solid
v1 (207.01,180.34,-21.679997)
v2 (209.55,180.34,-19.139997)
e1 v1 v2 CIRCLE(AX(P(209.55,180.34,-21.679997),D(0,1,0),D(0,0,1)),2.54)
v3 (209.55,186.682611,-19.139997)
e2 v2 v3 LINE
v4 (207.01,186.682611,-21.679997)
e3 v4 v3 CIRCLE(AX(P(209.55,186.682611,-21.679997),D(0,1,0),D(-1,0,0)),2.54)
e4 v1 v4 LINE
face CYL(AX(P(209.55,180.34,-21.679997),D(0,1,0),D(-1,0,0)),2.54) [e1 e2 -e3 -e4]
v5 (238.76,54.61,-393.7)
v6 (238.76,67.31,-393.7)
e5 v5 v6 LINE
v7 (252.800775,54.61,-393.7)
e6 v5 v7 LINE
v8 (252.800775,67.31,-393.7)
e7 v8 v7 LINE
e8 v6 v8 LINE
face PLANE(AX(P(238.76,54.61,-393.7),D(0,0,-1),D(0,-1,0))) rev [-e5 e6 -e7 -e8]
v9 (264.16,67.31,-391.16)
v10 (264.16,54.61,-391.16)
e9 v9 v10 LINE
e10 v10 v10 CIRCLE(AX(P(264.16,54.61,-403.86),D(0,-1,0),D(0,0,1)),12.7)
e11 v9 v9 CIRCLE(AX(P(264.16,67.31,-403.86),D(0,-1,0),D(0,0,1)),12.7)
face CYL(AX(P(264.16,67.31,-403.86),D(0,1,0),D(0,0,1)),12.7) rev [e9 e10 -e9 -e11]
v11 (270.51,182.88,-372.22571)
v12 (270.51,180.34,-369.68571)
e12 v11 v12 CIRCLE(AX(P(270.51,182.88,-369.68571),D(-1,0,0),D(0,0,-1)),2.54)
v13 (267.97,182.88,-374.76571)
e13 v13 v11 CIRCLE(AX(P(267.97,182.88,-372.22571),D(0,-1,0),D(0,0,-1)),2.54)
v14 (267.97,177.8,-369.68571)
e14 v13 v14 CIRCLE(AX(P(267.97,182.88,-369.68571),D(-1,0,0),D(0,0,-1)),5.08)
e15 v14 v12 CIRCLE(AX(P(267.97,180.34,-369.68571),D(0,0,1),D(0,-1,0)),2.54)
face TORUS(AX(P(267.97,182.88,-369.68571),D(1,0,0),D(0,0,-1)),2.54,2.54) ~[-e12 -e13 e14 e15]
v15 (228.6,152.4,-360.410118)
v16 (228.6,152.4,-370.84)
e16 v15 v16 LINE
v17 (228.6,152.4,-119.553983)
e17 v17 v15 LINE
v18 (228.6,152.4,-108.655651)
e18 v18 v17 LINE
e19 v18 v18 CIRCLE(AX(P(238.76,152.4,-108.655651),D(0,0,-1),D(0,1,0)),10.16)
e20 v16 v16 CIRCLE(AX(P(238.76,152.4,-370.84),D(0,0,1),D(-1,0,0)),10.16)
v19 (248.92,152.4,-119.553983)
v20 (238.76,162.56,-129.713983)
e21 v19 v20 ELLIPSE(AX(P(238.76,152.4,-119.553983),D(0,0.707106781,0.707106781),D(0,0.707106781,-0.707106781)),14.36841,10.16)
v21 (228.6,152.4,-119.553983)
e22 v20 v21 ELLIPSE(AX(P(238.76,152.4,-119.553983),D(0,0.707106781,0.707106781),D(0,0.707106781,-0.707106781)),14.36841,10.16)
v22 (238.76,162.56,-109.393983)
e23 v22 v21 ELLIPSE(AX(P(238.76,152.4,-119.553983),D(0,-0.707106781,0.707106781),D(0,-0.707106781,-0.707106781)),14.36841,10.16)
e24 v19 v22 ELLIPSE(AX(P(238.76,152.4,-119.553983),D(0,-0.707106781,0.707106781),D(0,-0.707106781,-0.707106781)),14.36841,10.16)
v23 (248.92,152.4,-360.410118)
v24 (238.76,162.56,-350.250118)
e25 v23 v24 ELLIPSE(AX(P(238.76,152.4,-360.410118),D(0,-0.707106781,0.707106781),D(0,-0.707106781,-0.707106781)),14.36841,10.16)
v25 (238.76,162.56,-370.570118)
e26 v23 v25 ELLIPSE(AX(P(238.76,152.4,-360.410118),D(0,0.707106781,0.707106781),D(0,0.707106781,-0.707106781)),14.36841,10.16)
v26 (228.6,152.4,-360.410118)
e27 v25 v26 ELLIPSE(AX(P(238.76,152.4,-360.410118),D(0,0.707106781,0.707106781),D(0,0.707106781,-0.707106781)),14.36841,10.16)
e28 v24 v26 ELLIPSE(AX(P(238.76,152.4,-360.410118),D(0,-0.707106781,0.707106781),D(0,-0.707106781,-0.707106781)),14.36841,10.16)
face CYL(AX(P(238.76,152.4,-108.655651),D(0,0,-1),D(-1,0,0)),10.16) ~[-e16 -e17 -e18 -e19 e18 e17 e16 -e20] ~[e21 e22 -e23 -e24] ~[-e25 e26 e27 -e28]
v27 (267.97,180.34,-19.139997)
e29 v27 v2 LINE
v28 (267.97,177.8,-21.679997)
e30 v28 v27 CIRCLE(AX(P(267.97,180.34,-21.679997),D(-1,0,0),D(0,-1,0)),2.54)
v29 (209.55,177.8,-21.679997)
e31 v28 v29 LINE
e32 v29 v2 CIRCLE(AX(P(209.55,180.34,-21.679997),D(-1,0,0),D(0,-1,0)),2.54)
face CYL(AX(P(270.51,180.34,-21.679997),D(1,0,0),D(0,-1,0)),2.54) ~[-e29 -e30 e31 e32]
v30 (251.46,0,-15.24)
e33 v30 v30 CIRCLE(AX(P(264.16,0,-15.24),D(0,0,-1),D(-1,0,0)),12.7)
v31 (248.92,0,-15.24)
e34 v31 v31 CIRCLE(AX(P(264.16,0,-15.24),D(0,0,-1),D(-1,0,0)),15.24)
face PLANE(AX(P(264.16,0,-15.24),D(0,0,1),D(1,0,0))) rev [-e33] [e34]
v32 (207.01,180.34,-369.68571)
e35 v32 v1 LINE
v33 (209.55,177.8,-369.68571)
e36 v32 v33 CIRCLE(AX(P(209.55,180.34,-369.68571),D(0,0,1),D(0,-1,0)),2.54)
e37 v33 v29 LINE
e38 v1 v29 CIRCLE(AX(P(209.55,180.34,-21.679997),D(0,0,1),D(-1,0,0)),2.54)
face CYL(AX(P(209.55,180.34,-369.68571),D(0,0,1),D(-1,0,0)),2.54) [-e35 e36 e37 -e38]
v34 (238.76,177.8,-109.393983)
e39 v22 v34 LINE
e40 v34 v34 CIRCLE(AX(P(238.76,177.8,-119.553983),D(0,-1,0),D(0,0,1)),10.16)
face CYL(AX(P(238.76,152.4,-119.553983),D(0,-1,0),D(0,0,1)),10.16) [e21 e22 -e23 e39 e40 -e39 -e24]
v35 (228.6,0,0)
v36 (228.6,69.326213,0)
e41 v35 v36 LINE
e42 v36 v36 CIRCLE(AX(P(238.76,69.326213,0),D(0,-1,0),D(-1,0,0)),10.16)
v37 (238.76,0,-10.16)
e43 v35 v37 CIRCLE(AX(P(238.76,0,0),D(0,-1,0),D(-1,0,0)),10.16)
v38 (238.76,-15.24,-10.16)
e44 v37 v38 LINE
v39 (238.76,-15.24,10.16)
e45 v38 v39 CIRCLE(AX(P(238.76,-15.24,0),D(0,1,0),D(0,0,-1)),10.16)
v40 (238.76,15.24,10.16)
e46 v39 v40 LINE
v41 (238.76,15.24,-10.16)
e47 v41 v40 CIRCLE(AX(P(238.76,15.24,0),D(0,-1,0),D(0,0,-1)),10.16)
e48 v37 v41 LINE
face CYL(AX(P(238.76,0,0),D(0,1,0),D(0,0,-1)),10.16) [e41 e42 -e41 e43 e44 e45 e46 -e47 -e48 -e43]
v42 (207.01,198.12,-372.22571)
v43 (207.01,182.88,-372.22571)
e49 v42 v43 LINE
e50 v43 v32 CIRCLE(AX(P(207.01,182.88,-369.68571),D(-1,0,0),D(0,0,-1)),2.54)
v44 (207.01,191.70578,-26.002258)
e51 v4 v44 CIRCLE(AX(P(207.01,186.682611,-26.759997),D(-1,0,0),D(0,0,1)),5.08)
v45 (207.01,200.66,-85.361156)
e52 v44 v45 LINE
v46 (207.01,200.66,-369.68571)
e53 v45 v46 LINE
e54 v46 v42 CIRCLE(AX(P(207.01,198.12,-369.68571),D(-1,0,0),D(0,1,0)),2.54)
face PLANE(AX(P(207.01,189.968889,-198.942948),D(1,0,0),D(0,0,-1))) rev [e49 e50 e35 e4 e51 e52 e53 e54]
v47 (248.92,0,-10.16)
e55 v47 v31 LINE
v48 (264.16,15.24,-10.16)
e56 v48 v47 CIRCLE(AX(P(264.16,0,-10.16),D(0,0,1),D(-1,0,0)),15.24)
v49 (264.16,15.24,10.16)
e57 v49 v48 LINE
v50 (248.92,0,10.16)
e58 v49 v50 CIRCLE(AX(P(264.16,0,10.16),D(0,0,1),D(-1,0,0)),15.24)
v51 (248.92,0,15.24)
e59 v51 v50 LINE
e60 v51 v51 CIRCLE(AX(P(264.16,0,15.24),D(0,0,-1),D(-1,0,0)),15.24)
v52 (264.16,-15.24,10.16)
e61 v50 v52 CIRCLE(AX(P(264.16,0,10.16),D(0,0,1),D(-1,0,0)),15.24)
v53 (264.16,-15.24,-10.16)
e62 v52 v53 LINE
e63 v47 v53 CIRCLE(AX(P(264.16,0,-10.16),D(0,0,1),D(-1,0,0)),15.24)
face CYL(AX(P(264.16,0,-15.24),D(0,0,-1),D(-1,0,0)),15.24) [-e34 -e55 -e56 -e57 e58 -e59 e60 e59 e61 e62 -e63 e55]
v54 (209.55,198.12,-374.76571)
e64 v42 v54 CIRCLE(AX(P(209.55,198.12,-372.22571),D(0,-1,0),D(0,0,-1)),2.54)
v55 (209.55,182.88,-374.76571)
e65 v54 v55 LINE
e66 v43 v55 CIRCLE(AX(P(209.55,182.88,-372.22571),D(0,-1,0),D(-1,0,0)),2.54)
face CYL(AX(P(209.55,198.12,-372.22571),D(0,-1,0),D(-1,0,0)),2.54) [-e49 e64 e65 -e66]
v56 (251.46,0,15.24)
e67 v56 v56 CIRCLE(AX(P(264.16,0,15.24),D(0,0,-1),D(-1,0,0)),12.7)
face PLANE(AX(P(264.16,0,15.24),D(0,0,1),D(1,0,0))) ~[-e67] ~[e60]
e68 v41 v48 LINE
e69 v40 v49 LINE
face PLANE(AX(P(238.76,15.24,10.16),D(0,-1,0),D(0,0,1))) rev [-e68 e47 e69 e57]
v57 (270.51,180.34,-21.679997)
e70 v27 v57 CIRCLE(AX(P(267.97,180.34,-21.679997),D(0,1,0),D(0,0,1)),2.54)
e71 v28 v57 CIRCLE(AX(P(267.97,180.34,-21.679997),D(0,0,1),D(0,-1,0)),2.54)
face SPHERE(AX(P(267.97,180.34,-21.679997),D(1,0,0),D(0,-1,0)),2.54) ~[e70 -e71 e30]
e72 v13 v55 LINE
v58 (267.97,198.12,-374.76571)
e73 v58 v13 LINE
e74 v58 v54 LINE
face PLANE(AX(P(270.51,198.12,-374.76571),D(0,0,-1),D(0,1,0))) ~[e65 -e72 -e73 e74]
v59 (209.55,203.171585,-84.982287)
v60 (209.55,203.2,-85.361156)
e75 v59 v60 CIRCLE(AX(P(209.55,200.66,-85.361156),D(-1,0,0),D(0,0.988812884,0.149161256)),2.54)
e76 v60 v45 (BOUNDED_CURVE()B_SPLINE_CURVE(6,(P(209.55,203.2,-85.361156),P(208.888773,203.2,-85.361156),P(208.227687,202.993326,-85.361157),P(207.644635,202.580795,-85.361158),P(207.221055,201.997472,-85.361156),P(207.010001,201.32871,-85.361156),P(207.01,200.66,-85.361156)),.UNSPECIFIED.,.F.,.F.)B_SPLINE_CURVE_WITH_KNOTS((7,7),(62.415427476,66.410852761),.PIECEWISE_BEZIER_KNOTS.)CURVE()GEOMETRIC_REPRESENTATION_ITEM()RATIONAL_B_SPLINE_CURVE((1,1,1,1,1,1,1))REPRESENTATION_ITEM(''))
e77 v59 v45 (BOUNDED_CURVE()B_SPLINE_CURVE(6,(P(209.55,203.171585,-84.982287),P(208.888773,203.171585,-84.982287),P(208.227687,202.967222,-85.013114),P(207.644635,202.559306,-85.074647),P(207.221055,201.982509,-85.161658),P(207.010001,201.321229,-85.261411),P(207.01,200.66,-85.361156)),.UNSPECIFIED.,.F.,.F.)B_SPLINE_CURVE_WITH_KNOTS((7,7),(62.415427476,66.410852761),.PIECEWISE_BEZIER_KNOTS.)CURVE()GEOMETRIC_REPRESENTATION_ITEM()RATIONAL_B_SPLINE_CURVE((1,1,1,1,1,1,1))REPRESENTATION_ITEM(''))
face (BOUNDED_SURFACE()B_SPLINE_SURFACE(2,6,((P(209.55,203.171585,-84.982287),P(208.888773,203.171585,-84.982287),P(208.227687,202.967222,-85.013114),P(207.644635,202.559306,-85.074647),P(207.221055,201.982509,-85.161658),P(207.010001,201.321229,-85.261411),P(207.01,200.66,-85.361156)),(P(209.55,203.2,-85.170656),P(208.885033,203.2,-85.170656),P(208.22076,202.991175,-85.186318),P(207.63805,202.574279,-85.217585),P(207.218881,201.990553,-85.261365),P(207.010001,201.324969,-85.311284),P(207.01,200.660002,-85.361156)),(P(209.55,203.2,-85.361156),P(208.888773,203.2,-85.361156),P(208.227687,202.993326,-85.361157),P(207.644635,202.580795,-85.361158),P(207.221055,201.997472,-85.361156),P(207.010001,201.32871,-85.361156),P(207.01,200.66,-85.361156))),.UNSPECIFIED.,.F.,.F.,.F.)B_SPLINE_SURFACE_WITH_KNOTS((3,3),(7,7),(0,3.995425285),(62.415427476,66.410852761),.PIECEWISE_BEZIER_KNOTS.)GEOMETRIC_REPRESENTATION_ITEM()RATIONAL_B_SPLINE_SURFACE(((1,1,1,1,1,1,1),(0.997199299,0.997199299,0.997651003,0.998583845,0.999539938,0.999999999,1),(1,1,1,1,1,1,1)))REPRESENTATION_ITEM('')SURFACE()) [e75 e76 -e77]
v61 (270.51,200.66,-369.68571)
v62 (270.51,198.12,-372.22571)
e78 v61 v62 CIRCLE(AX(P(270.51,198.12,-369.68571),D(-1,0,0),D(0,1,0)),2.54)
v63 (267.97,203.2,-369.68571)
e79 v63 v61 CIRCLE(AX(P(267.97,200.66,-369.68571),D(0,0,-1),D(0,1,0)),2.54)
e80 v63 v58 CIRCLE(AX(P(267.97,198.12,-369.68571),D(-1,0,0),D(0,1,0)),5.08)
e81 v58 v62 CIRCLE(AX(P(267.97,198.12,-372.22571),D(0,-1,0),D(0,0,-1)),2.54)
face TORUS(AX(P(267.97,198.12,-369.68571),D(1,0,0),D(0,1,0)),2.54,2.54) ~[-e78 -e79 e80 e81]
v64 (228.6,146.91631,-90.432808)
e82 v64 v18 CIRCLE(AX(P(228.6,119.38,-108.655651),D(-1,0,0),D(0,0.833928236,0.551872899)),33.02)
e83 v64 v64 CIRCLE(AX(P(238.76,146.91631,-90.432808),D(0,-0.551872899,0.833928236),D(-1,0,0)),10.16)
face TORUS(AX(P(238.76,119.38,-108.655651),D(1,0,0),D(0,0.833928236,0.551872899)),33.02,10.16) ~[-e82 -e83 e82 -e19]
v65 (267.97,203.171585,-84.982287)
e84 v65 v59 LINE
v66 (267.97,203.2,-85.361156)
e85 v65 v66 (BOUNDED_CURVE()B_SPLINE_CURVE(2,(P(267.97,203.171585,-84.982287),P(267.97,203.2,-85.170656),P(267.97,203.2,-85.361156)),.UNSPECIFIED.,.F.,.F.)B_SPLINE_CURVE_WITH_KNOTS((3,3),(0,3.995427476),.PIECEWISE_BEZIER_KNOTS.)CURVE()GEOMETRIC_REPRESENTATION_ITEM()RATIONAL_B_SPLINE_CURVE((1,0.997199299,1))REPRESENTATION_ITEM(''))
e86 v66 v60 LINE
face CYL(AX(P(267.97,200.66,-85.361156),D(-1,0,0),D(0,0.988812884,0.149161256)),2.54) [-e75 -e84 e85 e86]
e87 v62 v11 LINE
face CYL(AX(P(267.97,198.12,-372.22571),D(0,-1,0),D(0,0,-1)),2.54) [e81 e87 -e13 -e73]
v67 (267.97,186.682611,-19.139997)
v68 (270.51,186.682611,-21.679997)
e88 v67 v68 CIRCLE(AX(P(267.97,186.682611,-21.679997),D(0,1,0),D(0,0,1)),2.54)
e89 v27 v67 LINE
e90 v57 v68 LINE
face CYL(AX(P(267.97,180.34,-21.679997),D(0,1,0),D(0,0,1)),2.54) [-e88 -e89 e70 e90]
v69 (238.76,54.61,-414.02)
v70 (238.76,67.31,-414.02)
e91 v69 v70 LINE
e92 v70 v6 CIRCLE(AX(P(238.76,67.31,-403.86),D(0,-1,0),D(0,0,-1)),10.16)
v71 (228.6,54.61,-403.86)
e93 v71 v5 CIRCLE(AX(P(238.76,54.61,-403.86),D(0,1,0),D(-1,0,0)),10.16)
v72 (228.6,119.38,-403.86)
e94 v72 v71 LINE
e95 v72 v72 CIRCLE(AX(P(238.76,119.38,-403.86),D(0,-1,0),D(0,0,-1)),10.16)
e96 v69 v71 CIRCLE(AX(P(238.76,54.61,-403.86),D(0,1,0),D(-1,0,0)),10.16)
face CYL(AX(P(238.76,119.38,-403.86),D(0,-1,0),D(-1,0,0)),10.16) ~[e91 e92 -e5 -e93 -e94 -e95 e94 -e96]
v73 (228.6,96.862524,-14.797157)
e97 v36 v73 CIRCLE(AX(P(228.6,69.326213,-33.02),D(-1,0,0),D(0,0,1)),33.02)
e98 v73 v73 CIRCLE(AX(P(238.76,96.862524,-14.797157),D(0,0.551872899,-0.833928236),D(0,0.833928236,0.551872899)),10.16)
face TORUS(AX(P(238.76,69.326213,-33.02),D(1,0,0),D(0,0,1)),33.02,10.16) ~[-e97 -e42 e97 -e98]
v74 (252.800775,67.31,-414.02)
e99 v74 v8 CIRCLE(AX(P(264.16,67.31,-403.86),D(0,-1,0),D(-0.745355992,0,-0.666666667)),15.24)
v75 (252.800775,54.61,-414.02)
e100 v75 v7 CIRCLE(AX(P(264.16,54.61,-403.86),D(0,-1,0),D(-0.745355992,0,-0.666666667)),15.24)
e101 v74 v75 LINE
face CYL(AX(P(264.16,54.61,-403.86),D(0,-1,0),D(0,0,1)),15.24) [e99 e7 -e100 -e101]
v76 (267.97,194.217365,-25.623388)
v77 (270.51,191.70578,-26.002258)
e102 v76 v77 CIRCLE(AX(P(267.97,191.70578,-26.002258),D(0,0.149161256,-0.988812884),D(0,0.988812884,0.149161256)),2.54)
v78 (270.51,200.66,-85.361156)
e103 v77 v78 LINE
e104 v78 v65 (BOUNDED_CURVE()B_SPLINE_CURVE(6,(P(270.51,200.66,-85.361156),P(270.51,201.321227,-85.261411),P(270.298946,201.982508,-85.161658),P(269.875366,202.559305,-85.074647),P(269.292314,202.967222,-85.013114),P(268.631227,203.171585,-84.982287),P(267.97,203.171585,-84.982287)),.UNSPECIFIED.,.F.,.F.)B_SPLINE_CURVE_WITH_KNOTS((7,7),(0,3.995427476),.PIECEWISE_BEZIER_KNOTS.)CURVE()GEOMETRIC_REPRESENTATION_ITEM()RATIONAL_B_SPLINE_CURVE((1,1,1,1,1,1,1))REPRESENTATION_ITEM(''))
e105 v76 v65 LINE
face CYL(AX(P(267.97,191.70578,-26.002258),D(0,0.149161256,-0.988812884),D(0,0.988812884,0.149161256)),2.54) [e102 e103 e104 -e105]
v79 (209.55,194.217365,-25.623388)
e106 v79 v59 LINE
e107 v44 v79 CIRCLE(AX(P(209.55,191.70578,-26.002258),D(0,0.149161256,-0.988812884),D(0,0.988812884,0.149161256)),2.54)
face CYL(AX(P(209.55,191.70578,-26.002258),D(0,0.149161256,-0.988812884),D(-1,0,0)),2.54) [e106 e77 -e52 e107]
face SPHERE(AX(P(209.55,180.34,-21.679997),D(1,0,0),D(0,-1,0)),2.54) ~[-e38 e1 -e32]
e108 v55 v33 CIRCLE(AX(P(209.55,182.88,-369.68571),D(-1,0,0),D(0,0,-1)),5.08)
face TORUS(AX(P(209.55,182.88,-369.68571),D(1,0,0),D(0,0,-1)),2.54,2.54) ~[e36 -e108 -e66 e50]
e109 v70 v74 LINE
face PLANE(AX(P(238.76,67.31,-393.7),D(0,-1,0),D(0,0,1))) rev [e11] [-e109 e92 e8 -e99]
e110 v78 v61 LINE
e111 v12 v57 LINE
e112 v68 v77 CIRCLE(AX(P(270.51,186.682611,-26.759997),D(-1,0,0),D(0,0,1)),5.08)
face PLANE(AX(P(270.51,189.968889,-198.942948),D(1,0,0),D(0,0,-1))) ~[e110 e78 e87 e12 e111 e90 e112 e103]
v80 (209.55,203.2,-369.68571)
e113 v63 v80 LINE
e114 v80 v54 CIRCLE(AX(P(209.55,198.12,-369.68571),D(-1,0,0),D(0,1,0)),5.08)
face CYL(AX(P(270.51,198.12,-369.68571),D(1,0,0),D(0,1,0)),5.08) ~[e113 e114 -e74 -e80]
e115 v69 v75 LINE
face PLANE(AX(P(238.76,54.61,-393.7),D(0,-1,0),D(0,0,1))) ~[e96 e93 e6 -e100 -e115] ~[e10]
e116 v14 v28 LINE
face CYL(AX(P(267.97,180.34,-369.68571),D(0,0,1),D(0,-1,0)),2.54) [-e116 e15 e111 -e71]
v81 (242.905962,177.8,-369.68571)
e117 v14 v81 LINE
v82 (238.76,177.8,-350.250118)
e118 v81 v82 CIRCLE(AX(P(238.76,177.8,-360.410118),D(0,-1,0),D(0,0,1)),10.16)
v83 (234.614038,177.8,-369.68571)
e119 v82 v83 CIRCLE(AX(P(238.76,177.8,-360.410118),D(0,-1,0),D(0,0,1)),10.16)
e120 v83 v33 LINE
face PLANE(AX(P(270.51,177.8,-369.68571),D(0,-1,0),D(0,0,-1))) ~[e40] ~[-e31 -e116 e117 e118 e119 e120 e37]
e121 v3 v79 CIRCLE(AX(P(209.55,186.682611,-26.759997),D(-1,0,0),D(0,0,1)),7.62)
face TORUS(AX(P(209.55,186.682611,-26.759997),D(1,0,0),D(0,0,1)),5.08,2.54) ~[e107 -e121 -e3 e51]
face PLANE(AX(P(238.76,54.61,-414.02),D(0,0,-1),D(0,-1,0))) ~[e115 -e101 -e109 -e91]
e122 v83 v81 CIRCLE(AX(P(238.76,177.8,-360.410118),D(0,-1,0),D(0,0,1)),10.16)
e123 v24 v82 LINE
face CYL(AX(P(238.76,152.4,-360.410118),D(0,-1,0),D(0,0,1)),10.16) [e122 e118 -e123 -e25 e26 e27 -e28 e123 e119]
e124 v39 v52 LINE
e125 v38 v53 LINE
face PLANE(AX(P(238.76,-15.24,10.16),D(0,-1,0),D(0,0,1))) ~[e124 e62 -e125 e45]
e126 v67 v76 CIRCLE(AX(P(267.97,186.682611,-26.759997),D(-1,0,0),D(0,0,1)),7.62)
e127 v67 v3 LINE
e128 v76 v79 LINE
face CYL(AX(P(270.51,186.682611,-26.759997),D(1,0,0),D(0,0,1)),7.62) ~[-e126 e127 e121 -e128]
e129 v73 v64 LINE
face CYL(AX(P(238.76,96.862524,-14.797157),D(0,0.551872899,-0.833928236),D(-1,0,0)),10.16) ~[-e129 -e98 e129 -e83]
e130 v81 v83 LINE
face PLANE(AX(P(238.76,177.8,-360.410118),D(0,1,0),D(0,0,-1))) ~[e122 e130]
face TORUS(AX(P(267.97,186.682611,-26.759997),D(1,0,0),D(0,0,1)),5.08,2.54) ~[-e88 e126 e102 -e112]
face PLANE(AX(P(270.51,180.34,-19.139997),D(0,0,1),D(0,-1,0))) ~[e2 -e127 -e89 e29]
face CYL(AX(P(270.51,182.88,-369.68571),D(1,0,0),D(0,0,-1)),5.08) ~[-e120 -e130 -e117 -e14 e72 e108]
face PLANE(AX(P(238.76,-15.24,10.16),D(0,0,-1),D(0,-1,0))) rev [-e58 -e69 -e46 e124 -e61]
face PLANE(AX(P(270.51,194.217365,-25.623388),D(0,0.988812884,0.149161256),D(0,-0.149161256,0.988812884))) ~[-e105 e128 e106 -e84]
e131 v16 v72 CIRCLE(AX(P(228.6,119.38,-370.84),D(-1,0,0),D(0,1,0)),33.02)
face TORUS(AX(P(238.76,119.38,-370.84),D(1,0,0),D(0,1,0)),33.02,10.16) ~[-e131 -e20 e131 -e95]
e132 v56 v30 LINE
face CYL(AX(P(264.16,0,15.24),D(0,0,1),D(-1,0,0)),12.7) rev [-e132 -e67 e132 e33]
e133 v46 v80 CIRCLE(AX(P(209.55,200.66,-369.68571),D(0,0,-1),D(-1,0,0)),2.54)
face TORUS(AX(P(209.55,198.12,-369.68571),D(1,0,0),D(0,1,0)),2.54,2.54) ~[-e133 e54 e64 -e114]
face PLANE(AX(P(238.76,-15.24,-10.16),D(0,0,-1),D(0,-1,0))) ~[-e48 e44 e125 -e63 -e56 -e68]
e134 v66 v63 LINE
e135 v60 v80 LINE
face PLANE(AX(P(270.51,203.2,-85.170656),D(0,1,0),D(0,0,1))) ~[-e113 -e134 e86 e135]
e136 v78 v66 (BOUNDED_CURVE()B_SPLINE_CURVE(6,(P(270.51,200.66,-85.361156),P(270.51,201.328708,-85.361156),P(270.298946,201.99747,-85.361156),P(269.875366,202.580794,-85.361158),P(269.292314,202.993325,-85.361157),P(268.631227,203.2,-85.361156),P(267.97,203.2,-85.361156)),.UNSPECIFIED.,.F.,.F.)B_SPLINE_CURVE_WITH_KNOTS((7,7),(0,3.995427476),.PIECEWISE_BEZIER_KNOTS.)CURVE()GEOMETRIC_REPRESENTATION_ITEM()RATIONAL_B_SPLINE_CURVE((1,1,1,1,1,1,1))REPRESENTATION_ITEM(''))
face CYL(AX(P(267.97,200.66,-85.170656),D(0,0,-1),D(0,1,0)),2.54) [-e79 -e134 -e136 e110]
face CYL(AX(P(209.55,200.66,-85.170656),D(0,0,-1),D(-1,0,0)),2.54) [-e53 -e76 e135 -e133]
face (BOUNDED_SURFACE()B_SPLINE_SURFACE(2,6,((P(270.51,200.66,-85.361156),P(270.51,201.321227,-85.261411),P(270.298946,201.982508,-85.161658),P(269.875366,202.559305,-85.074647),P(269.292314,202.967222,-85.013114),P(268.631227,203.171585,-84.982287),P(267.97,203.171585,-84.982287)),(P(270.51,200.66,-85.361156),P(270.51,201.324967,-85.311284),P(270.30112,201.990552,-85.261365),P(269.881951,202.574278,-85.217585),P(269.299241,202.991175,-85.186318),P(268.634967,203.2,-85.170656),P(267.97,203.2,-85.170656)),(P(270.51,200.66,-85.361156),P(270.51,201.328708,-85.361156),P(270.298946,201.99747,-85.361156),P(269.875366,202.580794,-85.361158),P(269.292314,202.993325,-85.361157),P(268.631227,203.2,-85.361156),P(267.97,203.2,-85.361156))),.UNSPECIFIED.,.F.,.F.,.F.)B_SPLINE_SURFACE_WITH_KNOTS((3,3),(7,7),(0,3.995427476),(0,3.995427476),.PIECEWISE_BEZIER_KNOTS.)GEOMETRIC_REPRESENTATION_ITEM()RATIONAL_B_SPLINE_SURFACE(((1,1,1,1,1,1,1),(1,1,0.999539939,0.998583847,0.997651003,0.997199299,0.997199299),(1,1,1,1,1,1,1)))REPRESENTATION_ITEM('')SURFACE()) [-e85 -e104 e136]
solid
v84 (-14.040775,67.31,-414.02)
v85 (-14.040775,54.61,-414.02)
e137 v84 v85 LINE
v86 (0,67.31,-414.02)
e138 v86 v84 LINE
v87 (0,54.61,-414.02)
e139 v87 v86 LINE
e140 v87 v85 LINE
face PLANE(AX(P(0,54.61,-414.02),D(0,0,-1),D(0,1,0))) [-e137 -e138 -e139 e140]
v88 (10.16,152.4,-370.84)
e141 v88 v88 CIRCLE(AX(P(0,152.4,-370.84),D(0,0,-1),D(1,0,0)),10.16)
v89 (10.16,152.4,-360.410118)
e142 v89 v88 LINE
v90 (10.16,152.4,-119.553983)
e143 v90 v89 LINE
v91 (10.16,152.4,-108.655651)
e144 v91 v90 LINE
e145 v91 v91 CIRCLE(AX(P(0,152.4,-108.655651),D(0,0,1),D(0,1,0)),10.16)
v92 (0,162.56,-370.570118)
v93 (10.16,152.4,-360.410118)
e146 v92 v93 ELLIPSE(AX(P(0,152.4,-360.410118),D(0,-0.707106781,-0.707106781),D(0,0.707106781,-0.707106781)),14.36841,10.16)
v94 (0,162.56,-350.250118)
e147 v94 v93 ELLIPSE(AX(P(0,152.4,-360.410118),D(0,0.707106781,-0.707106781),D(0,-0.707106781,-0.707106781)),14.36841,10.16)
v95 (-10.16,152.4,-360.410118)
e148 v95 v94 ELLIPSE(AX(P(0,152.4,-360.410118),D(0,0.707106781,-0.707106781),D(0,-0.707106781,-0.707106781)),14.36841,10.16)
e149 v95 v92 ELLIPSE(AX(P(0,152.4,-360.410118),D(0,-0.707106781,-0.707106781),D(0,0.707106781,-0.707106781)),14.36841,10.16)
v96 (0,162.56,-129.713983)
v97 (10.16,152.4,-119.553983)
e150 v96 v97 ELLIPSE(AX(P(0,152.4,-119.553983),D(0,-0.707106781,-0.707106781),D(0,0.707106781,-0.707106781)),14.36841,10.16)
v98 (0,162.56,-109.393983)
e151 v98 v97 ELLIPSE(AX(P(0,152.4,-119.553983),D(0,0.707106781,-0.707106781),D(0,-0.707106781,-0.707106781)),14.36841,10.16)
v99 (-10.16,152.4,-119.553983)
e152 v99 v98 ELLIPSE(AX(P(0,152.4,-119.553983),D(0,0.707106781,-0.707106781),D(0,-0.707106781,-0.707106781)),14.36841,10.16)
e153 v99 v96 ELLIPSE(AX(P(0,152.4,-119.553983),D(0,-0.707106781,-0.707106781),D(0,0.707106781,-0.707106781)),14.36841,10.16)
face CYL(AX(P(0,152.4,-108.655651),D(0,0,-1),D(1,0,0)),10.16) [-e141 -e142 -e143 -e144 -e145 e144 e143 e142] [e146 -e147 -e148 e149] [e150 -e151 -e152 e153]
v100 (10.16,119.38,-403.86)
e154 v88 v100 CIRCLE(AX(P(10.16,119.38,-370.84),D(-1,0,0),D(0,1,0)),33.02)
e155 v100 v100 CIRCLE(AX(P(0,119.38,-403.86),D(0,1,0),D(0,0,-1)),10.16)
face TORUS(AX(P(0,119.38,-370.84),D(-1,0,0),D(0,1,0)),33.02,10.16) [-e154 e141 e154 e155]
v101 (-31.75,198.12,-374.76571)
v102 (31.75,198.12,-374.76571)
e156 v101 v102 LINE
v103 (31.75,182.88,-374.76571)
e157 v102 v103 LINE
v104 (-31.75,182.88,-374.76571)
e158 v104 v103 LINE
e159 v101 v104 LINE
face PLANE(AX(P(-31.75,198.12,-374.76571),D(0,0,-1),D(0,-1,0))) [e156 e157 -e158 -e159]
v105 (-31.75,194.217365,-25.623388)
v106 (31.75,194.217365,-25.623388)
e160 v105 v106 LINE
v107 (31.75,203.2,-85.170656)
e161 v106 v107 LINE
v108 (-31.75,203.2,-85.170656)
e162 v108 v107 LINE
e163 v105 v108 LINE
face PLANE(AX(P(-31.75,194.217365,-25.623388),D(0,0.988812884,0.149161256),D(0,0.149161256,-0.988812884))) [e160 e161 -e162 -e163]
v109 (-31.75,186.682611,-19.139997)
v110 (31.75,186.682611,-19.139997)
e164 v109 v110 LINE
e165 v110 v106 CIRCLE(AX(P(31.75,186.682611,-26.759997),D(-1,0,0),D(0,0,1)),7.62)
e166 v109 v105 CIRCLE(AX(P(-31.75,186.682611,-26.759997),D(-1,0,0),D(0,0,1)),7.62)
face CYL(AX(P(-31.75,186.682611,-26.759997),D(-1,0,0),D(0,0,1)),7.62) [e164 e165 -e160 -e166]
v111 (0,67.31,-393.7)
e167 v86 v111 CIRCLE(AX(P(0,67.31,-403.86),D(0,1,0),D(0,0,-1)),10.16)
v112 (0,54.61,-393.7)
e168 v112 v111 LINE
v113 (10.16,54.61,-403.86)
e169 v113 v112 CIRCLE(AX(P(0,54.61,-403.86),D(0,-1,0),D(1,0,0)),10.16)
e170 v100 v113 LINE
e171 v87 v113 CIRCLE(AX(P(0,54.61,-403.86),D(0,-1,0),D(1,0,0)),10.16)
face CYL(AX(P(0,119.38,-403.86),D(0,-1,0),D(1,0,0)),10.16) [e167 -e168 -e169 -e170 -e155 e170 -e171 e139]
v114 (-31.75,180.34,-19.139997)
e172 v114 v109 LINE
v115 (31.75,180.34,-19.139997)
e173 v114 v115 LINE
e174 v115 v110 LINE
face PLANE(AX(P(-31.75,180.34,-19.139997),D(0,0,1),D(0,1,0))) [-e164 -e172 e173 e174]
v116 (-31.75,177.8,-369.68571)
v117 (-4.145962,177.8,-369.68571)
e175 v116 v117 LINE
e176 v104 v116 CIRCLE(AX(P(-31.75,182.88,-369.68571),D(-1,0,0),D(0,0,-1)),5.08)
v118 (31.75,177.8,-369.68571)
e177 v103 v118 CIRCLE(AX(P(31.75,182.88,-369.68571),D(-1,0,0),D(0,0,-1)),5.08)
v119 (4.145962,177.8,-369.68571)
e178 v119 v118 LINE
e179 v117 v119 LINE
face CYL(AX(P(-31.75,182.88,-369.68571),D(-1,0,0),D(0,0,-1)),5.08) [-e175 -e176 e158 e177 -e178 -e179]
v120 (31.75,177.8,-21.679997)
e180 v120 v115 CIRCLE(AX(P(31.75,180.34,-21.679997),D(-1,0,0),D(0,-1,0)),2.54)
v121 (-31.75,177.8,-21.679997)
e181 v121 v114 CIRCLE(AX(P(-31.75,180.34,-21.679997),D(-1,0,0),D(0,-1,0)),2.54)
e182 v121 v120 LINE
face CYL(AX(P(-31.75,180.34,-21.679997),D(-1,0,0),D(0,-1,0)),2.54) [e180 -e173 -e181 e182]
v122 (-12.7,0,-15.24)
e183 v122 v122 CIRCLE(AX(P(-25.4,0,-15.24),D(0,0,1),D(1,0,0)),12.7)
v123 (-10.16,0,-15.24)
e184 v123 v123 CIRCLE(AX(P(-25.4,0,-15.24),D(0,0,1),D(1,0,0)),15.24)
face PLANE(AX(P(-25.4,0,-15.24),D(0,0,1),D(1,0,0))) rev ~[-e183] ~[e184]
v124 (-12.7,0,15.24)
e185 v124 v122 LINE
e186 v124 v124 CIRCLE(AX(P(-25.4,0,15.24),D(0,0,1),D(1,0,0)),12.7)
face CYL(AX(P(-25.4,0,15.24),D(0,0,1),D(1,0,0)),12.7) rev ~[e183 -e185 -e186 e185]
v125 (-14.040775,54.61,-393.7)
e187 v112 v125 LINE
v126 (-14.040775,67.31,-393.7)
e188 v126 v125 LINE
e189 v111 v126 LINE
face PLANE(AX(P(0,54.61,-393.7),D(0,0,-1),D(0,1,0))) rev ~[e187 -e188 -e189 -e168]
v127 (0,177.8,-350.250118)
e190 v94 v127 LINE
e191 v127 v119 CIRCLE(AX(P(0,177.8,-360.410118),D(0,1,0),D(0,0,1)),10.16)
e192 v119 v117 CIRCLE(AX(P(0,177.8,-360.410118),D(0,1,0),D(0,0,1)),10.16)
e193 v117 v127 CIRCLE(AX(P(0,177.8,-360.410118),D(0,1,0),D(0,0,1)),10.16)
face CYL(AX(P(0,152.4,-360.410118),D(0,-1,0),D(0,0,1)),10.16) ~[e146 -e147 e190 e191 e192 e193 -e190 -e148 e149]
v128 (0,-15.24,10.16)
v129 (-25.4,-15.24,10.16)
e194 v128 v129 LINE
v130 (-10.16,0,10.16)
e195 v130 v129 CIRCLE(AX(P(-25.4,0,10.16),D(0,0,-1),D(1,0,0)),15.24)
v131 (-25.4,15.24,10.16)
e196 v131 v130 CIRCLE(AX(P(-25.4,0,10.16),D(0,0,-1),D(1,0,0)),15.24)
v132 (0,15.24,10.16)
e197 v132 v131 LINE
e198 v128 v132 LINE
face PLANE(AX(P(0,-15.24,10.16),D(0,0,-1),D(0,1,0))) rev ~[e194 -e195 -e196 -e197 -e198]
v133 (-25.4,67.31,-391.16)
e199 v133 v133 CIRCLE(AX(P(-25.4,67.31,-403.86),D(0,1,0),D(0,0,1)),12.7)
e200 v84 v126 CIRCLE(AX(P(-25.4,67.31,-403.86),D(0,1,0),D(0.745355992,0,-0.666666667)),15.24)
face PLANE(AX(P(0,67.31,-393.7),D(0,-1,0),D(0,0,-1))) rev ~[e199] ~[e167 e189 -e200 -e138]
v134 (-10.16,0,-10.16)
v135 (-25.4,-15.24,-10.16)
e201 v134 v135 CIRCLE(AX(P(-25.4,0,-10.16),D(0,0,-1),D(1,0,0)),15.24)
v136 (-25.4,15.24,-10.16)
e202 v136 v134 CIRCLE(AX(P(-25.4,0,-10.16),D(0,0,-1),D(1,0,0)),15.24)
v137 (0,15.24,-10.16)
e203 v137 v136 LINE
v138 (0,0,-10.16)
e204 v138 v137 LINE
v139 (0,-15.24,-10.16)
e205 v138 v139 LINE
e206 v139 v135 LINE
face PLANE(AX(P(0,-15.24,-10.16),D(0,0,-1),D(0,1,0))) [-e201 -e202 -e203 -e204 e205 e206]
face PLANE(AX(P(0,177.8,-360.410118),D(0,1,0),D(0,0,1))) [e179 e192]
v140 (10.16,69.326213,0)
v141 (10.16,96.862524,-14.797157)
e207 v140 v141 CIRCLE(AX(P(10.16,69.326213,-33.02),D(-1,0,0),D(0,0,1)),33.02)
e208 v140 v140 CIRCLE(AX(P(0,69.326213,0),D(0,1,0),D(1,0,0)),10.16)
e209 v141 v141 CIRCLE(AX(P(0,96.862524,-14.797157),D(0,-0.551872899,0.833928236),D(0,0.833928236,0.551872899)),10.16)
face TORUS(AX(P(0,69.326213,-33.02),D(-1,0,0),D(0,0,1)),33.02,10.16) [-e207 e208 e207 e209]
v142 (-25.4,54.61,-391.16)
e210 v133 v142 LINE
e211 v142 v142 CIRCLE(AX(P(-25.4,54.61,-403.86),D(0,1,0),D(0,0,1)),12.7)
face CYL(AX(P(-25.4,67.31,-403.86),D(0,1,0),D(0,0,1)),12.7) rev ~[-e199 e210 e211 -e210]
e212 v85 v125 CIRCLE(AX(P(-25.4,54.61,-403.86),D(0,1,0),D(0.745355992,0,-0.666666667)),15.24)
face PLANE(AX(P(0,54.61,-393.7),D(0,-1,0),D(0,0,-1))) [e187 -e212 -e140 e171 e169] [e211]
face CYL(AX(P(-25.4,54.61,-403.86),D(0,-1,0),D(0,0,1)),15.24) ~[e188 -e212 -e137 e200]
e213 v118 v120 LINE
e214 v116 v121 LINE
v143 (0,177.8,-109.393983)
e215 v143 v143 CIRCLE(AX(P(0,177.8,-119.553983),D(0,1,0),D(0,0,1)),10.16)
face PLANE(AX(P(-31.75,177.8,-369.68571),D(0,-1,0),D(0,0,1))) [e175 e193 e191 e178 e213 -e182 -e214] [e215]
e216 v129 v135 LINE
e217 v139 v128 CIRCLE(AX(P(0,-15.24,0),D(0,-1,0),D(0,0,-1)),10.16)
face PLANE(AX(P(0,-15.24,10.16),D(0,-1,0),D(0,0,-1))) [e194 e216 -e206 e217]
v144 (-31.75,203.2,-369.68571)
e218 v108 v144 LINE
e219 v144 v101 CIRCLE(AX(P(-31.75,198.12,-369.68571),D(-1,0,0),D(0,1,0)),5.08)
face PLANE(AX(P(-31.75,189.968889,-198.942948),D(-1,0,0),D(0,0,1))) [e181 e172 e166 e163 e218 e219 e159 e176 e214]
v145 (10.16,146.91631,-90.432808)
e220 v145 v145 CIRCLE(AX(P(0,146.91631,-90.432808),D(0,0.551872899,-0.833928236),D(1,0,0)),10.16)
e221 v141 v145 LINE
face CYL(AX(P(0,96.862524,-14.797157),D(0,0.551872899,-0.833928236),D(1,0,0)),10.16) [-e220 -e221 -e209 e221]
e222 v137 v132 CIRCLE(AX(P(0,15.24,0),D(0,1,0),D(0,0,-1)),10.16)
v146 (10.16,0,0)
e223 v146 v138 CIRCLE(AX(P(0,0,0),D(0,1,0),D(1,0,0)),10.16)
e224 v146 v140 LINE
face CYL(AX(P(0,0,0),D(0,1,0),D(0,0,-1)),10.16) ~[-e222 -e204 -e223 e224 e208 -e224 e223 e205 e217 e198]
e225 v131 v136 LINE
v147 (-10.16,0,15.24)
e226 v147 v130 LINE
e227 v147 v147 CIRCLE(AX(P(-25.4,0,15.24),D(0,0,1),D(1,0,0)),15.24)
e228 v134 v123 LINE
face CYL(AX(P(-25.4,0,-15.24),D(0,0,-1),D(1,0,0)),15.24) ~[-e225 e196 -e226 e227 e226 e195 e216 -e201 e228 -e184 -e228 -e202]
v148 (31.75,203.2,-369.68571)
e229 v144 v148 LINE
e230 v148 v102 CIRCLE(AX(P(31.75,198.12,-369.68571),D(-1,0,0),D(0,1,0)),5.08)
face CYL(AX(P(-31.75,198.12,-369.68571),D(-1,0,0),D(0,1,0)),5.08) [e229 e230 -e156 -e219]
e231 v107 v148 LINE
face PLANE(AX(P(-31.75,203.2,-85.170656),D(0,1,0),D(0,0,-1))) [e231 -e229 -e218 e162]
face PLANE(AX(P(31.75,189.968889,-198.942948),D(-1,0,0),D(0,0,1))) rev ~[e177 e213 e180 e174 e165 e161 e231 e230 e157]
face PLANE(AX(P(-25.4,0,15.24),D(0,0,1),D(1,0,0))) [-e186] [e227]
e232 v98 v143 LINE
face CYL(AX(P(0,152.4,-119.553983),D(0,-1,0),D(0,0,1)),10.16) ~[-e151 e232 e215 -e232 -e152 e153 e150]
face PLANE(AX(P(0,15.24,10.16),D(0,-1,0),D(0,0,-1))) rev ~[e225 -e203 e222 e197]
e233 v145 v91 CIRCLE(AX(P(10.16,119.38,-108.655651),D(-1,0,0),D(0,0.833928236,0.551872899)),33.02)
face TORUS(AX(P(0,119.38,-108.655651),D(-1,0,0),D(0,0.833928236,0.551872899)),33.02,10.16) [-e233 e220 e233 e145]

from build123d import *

# Parameters (mm, degrees)
SKETCH2_R                = 10.16
BOSS_EXTRUDE1_DEPTH      = 15.24
BOSS_EXTRUDE1_DEPTH_BACK = 15.24
SKETCH4_R                = 15.24
SKETCH5_R                = 10.16
BOSS_EXTRUDE2_DEPTH      = 15.24
SKETCH6_W                = 20.32
SKETCH6_H                = 30.48
BOSS_EXTRUDE3_DEPTH      = 25.4
SKETCH7_R                = 12.7
CUT_EXTRUDE1_DEPTH       = 461.805285208
SKETCH8_R                = 15.24
BOSS_EXTRUDE4_DEPTH      = 12.7
SKETCH10_W               = 20.32
SKETCH10_H               = 12.7
BOSS_EXTRUDE5_DEPTH      = 25.4
SKETCH11_R               = 12.7
CUT_EXTRUDE2_DEPTH       = 25.4
SKETCH12_R               = 10.16
BOSS_EXTRUDE6_DEPTH      = 25.4
BOSS_EXTRUDE7_DEPTH      = 31.75
BOSS_EXTRUDE7_DEPTH_BACK = 31.75
FILLET1_R                = 2.54
FILLET2_R                = 2.54


with BuildPart() as part:
    # Sweep1: sweep along a path in Sketch1
    with BuildLine(Plane(origin=(0, 0, 0), x_dir=(0, 0, -1), z_dir=(1, 0, 0))) as sweep1_path:
        Line((0, 0), (0, 69.32621332))
        ThreePointArc((0, 69.32621332), (3.933588394, 84.956346393), (14.797156867, 96.862523678))
        Line((14.797156867, 96.862523678), (90.432807933, 146.916310358))
        ThreePointArc((90.432807933, 146.916310358), (99.140625265, 150.999371974), (108.655651066, 152.4))
        Line((108.655651066, 152.4), (370.83999995, 152.4))
        ThreePointArc((370.83999995, 152.4), (394.188665865, 142.728665915), (403.85999995, 119.38))
        Line((403.85999995, 119.38), (403.85999995, 54.61))
    # Sketch2 → Sweep1 (sweep)
    with BuildSketch(Plane(origin=(0, 0, 0), x_dir=(1, 0, 0), z_dir=(0, 1, 0))):
        Circle(SKETCH2_R)
    sweep(path=sweep1_path.line)

    # Sketch5 → Boss-Extrude2 (add)
    with BuildSketch(Plane.XZ):
        with Locations(Location((0, 0, 0), (0, 0, 270))):
            Circle(SKETCH5_R)
    extrude(amount=BOSS_EXTRUDE2_DEPTH)



with BuildPart() as body_2:
    # Sketch4 → Boss-Extrude1 (new, two sides: drawn at the far end of the back side and taken through both)
    with BuildSketch(Plane.XY.offset(-BOSS_EXTRUDE1_DEPTH_BACK)):
        with Locations((-25.4, 0)):
            Circle(SKETCH4_R)
    extrude(amount=BOSS_EXTRUDE1_DEPTH + BOSS_EXTRUDE1_DEPTH_BACK)


with BuildPart() as part_1:
    add(part.part)

    add(body_2.part)  # Boss-Extrude3 merges body 2
    # Sketch6 → Boss-Extrude3 (add)
    with BuildSketch(Plane(origin=(0, 0, 0), x_dir=(0, 0, -1), z_dir=(1, 0, 0))):
        Rectangle(SKETCH6_W, SKETCH6_H)
    extrude(amount=-BOSS_EXTRUDE3_DEPTH)

    # Sketch7 → Cut-Extrude1 (cut, through all)
    with BuildSketch(Plane.XY.offset(15.24)):
        with Locations((-25.4, 0)):
            Circle(SKETCH7_R)
    extrude(amount=-CUT_EXTRUDE1_DEPTH, mode=Mode.SUBTRACT)



with BuildPart() as body_2_2:
    # Sketch8 → Boss-Extrude4 (new body)
    with BuildSketch(Plane(origin=(0, 54.61, 0), x_dir=(1, 0, 0), z_dir=(0, 1, 0))):
        with Locations(Location((-25.4, 403.85999995, 0), (0, 0, 270))):
            Circle(SKETCH8_R)
    extrude(amount=BOSS_EXTRUDE4_DEPTH)


with BuildPart() as part_2:
    add(part_1.part)

    add(body_2_2.part)  # Boss-Extrude5 merges body 2 2
    # Sketch10 → Boss-Extrude5 (add)
    with BuildSketch(Plane(origin=(0, 0, 0), x_dir=(0, 0, -1), z_dir=(1, 0, 0))):
        with Locations((403.85999995, 60.96)):
            Rectangle(SKETCH10_W, SKETCH10_H)
    extrude(amount=-BOSS_EXTRUDE5_DEPTH)

    # Sketch11 → Cut-Extrude2 (cut)
    with BuildSketch(Plane(origin=(0, 67.31, 0), x_dir=(1, 0, 0), z_dir=(0, 1, 0))):
        with Locations(Location((-25.4, 403.85999995, 0), (0, 0, 270))):
            Circle(SKETCH11_R)
    extrude(amount=-CUT_EXTRUDE2_DEPTH, mode=Mode.SUBTRACT)

    # Sketch12 → Boss-Extrude6 (add)
    with BuildSketch(Plane(origin=(0, 152.4, 0), x_dir=(1, 0, 0), z_dir=(0, 1, 0))):
        with Locations(Location((0, 360.410118202, 0), (0, 0, 270))):
            Circle(SKETCH12_R)
        with Locations(Location((0, 119.55398348, 0), (0, 0, 270))):
            Circle(SKETCH12_R)
    extrude(amount=BOSS_EXTRUDE6_DEPTH)

    # Sketch13 → Boss-Extrude7 (add, two sides: drawn at the far end of the back side and taken through both)
    with BuildSketch(Plane(origin=(0, 0, 0), x_dir=(0, 0, -1), z_dir=(1, 0, 0)).offset(-BOSS_EXTRUDE7_DEPTH_BACK)):
        with BuildLine():
            Line((369.685709653, 177.8), (21.679996961, 177.8))
            ThreePointArc((21.679996961, 177.8), (19.883945737, 178.543948776), (19.139996961, 180.34))
            Line((19.139996961, 180.34), (19.139996961, 186.682610789))
            ThreePointArc((19.139996961, 186.682610789), (20.983953383, 191.652693342), (25.623388191, 194.217364966))
            Line((25.623388191, 194.217364966), (85.170656017, 203.2))
            Line((85.170656017, 203.2), (369.685709653, 203.2))
            ThreePointArc((369.685709653, 203.2), (373.277812101, 201.712102448), (374.765709653, 198.12))
            Line((374.765709653, 198.12), (374.765709653, 182.88))
            ThreePointArc((374.765709653, 182.88), (373.277812101, 179.287897552), (369.685709653, 177.8))
        make_face()
    extrude(amount=BOSS_EXTRUDE7_DEPTH + BOSS_EXTRUDE7_DEPTH_BACK)


with BuildPart() as body_2_3:
    # Mirror1: mirrored copy
    add(part_2.part.mirror(Plane(origin=(119.38, 0, 0), x_dir=(0, 0, 1), z_dir=(1, 0, 0))))

    # Fillet1
    fillet1_edges = [body_2_3.edges().sort_by_distance(p)[0] for p in [
        (270.51, 177.8, -195.682853307),
        (270.51, 198.708682483, -55.397022104),
        (270.51, 203.2, -227.428182835),
        (270.51, 201.712102448, -373.277812101),
        (270.51, 190.5, -374.765709653),
        (270.51, 179.287897552, -373.277812101),
        (270.51, 178.543948776, -19.883945737),
        (270.51, 183.511305395, -19.139996961),
        (270.51, 191.652693342, -20.983953383),
        (207.01, 198.708682483, -55.397022104),
        (207.01, 191.652693342, -20.983953383),
        (207.01, 183.511305395, -19.139996961),
        (207.01, 178.543948776, -19.883945737),
        (207.01, 177.8, -195.682853307),
        (207.01, 179.287897552, -373.277812101),
        (207.01, 190.5, -374.765709653),
        (207.01, 201.712102448, -373.277812101),
        (207.01, 203.2, -227.428182835),
    ]]
    fillet(fillet1_edges, radius=FILLET1_R)

    # Fillet2
    fillet2_edges = [body_2_3.edges().sort_by_distance(p)[0] for p in [
        (238.76, 203.2, -85.170656017),
        (207.752690681, 202.454792247, -85.226546707),
        (269.767310094, 202.454791472, -85.226546765),
    ]]
    fillet(fillet2_edges, radius=FILLET2_R)


solid = Compound([part_2.part, body_2_3.part])
